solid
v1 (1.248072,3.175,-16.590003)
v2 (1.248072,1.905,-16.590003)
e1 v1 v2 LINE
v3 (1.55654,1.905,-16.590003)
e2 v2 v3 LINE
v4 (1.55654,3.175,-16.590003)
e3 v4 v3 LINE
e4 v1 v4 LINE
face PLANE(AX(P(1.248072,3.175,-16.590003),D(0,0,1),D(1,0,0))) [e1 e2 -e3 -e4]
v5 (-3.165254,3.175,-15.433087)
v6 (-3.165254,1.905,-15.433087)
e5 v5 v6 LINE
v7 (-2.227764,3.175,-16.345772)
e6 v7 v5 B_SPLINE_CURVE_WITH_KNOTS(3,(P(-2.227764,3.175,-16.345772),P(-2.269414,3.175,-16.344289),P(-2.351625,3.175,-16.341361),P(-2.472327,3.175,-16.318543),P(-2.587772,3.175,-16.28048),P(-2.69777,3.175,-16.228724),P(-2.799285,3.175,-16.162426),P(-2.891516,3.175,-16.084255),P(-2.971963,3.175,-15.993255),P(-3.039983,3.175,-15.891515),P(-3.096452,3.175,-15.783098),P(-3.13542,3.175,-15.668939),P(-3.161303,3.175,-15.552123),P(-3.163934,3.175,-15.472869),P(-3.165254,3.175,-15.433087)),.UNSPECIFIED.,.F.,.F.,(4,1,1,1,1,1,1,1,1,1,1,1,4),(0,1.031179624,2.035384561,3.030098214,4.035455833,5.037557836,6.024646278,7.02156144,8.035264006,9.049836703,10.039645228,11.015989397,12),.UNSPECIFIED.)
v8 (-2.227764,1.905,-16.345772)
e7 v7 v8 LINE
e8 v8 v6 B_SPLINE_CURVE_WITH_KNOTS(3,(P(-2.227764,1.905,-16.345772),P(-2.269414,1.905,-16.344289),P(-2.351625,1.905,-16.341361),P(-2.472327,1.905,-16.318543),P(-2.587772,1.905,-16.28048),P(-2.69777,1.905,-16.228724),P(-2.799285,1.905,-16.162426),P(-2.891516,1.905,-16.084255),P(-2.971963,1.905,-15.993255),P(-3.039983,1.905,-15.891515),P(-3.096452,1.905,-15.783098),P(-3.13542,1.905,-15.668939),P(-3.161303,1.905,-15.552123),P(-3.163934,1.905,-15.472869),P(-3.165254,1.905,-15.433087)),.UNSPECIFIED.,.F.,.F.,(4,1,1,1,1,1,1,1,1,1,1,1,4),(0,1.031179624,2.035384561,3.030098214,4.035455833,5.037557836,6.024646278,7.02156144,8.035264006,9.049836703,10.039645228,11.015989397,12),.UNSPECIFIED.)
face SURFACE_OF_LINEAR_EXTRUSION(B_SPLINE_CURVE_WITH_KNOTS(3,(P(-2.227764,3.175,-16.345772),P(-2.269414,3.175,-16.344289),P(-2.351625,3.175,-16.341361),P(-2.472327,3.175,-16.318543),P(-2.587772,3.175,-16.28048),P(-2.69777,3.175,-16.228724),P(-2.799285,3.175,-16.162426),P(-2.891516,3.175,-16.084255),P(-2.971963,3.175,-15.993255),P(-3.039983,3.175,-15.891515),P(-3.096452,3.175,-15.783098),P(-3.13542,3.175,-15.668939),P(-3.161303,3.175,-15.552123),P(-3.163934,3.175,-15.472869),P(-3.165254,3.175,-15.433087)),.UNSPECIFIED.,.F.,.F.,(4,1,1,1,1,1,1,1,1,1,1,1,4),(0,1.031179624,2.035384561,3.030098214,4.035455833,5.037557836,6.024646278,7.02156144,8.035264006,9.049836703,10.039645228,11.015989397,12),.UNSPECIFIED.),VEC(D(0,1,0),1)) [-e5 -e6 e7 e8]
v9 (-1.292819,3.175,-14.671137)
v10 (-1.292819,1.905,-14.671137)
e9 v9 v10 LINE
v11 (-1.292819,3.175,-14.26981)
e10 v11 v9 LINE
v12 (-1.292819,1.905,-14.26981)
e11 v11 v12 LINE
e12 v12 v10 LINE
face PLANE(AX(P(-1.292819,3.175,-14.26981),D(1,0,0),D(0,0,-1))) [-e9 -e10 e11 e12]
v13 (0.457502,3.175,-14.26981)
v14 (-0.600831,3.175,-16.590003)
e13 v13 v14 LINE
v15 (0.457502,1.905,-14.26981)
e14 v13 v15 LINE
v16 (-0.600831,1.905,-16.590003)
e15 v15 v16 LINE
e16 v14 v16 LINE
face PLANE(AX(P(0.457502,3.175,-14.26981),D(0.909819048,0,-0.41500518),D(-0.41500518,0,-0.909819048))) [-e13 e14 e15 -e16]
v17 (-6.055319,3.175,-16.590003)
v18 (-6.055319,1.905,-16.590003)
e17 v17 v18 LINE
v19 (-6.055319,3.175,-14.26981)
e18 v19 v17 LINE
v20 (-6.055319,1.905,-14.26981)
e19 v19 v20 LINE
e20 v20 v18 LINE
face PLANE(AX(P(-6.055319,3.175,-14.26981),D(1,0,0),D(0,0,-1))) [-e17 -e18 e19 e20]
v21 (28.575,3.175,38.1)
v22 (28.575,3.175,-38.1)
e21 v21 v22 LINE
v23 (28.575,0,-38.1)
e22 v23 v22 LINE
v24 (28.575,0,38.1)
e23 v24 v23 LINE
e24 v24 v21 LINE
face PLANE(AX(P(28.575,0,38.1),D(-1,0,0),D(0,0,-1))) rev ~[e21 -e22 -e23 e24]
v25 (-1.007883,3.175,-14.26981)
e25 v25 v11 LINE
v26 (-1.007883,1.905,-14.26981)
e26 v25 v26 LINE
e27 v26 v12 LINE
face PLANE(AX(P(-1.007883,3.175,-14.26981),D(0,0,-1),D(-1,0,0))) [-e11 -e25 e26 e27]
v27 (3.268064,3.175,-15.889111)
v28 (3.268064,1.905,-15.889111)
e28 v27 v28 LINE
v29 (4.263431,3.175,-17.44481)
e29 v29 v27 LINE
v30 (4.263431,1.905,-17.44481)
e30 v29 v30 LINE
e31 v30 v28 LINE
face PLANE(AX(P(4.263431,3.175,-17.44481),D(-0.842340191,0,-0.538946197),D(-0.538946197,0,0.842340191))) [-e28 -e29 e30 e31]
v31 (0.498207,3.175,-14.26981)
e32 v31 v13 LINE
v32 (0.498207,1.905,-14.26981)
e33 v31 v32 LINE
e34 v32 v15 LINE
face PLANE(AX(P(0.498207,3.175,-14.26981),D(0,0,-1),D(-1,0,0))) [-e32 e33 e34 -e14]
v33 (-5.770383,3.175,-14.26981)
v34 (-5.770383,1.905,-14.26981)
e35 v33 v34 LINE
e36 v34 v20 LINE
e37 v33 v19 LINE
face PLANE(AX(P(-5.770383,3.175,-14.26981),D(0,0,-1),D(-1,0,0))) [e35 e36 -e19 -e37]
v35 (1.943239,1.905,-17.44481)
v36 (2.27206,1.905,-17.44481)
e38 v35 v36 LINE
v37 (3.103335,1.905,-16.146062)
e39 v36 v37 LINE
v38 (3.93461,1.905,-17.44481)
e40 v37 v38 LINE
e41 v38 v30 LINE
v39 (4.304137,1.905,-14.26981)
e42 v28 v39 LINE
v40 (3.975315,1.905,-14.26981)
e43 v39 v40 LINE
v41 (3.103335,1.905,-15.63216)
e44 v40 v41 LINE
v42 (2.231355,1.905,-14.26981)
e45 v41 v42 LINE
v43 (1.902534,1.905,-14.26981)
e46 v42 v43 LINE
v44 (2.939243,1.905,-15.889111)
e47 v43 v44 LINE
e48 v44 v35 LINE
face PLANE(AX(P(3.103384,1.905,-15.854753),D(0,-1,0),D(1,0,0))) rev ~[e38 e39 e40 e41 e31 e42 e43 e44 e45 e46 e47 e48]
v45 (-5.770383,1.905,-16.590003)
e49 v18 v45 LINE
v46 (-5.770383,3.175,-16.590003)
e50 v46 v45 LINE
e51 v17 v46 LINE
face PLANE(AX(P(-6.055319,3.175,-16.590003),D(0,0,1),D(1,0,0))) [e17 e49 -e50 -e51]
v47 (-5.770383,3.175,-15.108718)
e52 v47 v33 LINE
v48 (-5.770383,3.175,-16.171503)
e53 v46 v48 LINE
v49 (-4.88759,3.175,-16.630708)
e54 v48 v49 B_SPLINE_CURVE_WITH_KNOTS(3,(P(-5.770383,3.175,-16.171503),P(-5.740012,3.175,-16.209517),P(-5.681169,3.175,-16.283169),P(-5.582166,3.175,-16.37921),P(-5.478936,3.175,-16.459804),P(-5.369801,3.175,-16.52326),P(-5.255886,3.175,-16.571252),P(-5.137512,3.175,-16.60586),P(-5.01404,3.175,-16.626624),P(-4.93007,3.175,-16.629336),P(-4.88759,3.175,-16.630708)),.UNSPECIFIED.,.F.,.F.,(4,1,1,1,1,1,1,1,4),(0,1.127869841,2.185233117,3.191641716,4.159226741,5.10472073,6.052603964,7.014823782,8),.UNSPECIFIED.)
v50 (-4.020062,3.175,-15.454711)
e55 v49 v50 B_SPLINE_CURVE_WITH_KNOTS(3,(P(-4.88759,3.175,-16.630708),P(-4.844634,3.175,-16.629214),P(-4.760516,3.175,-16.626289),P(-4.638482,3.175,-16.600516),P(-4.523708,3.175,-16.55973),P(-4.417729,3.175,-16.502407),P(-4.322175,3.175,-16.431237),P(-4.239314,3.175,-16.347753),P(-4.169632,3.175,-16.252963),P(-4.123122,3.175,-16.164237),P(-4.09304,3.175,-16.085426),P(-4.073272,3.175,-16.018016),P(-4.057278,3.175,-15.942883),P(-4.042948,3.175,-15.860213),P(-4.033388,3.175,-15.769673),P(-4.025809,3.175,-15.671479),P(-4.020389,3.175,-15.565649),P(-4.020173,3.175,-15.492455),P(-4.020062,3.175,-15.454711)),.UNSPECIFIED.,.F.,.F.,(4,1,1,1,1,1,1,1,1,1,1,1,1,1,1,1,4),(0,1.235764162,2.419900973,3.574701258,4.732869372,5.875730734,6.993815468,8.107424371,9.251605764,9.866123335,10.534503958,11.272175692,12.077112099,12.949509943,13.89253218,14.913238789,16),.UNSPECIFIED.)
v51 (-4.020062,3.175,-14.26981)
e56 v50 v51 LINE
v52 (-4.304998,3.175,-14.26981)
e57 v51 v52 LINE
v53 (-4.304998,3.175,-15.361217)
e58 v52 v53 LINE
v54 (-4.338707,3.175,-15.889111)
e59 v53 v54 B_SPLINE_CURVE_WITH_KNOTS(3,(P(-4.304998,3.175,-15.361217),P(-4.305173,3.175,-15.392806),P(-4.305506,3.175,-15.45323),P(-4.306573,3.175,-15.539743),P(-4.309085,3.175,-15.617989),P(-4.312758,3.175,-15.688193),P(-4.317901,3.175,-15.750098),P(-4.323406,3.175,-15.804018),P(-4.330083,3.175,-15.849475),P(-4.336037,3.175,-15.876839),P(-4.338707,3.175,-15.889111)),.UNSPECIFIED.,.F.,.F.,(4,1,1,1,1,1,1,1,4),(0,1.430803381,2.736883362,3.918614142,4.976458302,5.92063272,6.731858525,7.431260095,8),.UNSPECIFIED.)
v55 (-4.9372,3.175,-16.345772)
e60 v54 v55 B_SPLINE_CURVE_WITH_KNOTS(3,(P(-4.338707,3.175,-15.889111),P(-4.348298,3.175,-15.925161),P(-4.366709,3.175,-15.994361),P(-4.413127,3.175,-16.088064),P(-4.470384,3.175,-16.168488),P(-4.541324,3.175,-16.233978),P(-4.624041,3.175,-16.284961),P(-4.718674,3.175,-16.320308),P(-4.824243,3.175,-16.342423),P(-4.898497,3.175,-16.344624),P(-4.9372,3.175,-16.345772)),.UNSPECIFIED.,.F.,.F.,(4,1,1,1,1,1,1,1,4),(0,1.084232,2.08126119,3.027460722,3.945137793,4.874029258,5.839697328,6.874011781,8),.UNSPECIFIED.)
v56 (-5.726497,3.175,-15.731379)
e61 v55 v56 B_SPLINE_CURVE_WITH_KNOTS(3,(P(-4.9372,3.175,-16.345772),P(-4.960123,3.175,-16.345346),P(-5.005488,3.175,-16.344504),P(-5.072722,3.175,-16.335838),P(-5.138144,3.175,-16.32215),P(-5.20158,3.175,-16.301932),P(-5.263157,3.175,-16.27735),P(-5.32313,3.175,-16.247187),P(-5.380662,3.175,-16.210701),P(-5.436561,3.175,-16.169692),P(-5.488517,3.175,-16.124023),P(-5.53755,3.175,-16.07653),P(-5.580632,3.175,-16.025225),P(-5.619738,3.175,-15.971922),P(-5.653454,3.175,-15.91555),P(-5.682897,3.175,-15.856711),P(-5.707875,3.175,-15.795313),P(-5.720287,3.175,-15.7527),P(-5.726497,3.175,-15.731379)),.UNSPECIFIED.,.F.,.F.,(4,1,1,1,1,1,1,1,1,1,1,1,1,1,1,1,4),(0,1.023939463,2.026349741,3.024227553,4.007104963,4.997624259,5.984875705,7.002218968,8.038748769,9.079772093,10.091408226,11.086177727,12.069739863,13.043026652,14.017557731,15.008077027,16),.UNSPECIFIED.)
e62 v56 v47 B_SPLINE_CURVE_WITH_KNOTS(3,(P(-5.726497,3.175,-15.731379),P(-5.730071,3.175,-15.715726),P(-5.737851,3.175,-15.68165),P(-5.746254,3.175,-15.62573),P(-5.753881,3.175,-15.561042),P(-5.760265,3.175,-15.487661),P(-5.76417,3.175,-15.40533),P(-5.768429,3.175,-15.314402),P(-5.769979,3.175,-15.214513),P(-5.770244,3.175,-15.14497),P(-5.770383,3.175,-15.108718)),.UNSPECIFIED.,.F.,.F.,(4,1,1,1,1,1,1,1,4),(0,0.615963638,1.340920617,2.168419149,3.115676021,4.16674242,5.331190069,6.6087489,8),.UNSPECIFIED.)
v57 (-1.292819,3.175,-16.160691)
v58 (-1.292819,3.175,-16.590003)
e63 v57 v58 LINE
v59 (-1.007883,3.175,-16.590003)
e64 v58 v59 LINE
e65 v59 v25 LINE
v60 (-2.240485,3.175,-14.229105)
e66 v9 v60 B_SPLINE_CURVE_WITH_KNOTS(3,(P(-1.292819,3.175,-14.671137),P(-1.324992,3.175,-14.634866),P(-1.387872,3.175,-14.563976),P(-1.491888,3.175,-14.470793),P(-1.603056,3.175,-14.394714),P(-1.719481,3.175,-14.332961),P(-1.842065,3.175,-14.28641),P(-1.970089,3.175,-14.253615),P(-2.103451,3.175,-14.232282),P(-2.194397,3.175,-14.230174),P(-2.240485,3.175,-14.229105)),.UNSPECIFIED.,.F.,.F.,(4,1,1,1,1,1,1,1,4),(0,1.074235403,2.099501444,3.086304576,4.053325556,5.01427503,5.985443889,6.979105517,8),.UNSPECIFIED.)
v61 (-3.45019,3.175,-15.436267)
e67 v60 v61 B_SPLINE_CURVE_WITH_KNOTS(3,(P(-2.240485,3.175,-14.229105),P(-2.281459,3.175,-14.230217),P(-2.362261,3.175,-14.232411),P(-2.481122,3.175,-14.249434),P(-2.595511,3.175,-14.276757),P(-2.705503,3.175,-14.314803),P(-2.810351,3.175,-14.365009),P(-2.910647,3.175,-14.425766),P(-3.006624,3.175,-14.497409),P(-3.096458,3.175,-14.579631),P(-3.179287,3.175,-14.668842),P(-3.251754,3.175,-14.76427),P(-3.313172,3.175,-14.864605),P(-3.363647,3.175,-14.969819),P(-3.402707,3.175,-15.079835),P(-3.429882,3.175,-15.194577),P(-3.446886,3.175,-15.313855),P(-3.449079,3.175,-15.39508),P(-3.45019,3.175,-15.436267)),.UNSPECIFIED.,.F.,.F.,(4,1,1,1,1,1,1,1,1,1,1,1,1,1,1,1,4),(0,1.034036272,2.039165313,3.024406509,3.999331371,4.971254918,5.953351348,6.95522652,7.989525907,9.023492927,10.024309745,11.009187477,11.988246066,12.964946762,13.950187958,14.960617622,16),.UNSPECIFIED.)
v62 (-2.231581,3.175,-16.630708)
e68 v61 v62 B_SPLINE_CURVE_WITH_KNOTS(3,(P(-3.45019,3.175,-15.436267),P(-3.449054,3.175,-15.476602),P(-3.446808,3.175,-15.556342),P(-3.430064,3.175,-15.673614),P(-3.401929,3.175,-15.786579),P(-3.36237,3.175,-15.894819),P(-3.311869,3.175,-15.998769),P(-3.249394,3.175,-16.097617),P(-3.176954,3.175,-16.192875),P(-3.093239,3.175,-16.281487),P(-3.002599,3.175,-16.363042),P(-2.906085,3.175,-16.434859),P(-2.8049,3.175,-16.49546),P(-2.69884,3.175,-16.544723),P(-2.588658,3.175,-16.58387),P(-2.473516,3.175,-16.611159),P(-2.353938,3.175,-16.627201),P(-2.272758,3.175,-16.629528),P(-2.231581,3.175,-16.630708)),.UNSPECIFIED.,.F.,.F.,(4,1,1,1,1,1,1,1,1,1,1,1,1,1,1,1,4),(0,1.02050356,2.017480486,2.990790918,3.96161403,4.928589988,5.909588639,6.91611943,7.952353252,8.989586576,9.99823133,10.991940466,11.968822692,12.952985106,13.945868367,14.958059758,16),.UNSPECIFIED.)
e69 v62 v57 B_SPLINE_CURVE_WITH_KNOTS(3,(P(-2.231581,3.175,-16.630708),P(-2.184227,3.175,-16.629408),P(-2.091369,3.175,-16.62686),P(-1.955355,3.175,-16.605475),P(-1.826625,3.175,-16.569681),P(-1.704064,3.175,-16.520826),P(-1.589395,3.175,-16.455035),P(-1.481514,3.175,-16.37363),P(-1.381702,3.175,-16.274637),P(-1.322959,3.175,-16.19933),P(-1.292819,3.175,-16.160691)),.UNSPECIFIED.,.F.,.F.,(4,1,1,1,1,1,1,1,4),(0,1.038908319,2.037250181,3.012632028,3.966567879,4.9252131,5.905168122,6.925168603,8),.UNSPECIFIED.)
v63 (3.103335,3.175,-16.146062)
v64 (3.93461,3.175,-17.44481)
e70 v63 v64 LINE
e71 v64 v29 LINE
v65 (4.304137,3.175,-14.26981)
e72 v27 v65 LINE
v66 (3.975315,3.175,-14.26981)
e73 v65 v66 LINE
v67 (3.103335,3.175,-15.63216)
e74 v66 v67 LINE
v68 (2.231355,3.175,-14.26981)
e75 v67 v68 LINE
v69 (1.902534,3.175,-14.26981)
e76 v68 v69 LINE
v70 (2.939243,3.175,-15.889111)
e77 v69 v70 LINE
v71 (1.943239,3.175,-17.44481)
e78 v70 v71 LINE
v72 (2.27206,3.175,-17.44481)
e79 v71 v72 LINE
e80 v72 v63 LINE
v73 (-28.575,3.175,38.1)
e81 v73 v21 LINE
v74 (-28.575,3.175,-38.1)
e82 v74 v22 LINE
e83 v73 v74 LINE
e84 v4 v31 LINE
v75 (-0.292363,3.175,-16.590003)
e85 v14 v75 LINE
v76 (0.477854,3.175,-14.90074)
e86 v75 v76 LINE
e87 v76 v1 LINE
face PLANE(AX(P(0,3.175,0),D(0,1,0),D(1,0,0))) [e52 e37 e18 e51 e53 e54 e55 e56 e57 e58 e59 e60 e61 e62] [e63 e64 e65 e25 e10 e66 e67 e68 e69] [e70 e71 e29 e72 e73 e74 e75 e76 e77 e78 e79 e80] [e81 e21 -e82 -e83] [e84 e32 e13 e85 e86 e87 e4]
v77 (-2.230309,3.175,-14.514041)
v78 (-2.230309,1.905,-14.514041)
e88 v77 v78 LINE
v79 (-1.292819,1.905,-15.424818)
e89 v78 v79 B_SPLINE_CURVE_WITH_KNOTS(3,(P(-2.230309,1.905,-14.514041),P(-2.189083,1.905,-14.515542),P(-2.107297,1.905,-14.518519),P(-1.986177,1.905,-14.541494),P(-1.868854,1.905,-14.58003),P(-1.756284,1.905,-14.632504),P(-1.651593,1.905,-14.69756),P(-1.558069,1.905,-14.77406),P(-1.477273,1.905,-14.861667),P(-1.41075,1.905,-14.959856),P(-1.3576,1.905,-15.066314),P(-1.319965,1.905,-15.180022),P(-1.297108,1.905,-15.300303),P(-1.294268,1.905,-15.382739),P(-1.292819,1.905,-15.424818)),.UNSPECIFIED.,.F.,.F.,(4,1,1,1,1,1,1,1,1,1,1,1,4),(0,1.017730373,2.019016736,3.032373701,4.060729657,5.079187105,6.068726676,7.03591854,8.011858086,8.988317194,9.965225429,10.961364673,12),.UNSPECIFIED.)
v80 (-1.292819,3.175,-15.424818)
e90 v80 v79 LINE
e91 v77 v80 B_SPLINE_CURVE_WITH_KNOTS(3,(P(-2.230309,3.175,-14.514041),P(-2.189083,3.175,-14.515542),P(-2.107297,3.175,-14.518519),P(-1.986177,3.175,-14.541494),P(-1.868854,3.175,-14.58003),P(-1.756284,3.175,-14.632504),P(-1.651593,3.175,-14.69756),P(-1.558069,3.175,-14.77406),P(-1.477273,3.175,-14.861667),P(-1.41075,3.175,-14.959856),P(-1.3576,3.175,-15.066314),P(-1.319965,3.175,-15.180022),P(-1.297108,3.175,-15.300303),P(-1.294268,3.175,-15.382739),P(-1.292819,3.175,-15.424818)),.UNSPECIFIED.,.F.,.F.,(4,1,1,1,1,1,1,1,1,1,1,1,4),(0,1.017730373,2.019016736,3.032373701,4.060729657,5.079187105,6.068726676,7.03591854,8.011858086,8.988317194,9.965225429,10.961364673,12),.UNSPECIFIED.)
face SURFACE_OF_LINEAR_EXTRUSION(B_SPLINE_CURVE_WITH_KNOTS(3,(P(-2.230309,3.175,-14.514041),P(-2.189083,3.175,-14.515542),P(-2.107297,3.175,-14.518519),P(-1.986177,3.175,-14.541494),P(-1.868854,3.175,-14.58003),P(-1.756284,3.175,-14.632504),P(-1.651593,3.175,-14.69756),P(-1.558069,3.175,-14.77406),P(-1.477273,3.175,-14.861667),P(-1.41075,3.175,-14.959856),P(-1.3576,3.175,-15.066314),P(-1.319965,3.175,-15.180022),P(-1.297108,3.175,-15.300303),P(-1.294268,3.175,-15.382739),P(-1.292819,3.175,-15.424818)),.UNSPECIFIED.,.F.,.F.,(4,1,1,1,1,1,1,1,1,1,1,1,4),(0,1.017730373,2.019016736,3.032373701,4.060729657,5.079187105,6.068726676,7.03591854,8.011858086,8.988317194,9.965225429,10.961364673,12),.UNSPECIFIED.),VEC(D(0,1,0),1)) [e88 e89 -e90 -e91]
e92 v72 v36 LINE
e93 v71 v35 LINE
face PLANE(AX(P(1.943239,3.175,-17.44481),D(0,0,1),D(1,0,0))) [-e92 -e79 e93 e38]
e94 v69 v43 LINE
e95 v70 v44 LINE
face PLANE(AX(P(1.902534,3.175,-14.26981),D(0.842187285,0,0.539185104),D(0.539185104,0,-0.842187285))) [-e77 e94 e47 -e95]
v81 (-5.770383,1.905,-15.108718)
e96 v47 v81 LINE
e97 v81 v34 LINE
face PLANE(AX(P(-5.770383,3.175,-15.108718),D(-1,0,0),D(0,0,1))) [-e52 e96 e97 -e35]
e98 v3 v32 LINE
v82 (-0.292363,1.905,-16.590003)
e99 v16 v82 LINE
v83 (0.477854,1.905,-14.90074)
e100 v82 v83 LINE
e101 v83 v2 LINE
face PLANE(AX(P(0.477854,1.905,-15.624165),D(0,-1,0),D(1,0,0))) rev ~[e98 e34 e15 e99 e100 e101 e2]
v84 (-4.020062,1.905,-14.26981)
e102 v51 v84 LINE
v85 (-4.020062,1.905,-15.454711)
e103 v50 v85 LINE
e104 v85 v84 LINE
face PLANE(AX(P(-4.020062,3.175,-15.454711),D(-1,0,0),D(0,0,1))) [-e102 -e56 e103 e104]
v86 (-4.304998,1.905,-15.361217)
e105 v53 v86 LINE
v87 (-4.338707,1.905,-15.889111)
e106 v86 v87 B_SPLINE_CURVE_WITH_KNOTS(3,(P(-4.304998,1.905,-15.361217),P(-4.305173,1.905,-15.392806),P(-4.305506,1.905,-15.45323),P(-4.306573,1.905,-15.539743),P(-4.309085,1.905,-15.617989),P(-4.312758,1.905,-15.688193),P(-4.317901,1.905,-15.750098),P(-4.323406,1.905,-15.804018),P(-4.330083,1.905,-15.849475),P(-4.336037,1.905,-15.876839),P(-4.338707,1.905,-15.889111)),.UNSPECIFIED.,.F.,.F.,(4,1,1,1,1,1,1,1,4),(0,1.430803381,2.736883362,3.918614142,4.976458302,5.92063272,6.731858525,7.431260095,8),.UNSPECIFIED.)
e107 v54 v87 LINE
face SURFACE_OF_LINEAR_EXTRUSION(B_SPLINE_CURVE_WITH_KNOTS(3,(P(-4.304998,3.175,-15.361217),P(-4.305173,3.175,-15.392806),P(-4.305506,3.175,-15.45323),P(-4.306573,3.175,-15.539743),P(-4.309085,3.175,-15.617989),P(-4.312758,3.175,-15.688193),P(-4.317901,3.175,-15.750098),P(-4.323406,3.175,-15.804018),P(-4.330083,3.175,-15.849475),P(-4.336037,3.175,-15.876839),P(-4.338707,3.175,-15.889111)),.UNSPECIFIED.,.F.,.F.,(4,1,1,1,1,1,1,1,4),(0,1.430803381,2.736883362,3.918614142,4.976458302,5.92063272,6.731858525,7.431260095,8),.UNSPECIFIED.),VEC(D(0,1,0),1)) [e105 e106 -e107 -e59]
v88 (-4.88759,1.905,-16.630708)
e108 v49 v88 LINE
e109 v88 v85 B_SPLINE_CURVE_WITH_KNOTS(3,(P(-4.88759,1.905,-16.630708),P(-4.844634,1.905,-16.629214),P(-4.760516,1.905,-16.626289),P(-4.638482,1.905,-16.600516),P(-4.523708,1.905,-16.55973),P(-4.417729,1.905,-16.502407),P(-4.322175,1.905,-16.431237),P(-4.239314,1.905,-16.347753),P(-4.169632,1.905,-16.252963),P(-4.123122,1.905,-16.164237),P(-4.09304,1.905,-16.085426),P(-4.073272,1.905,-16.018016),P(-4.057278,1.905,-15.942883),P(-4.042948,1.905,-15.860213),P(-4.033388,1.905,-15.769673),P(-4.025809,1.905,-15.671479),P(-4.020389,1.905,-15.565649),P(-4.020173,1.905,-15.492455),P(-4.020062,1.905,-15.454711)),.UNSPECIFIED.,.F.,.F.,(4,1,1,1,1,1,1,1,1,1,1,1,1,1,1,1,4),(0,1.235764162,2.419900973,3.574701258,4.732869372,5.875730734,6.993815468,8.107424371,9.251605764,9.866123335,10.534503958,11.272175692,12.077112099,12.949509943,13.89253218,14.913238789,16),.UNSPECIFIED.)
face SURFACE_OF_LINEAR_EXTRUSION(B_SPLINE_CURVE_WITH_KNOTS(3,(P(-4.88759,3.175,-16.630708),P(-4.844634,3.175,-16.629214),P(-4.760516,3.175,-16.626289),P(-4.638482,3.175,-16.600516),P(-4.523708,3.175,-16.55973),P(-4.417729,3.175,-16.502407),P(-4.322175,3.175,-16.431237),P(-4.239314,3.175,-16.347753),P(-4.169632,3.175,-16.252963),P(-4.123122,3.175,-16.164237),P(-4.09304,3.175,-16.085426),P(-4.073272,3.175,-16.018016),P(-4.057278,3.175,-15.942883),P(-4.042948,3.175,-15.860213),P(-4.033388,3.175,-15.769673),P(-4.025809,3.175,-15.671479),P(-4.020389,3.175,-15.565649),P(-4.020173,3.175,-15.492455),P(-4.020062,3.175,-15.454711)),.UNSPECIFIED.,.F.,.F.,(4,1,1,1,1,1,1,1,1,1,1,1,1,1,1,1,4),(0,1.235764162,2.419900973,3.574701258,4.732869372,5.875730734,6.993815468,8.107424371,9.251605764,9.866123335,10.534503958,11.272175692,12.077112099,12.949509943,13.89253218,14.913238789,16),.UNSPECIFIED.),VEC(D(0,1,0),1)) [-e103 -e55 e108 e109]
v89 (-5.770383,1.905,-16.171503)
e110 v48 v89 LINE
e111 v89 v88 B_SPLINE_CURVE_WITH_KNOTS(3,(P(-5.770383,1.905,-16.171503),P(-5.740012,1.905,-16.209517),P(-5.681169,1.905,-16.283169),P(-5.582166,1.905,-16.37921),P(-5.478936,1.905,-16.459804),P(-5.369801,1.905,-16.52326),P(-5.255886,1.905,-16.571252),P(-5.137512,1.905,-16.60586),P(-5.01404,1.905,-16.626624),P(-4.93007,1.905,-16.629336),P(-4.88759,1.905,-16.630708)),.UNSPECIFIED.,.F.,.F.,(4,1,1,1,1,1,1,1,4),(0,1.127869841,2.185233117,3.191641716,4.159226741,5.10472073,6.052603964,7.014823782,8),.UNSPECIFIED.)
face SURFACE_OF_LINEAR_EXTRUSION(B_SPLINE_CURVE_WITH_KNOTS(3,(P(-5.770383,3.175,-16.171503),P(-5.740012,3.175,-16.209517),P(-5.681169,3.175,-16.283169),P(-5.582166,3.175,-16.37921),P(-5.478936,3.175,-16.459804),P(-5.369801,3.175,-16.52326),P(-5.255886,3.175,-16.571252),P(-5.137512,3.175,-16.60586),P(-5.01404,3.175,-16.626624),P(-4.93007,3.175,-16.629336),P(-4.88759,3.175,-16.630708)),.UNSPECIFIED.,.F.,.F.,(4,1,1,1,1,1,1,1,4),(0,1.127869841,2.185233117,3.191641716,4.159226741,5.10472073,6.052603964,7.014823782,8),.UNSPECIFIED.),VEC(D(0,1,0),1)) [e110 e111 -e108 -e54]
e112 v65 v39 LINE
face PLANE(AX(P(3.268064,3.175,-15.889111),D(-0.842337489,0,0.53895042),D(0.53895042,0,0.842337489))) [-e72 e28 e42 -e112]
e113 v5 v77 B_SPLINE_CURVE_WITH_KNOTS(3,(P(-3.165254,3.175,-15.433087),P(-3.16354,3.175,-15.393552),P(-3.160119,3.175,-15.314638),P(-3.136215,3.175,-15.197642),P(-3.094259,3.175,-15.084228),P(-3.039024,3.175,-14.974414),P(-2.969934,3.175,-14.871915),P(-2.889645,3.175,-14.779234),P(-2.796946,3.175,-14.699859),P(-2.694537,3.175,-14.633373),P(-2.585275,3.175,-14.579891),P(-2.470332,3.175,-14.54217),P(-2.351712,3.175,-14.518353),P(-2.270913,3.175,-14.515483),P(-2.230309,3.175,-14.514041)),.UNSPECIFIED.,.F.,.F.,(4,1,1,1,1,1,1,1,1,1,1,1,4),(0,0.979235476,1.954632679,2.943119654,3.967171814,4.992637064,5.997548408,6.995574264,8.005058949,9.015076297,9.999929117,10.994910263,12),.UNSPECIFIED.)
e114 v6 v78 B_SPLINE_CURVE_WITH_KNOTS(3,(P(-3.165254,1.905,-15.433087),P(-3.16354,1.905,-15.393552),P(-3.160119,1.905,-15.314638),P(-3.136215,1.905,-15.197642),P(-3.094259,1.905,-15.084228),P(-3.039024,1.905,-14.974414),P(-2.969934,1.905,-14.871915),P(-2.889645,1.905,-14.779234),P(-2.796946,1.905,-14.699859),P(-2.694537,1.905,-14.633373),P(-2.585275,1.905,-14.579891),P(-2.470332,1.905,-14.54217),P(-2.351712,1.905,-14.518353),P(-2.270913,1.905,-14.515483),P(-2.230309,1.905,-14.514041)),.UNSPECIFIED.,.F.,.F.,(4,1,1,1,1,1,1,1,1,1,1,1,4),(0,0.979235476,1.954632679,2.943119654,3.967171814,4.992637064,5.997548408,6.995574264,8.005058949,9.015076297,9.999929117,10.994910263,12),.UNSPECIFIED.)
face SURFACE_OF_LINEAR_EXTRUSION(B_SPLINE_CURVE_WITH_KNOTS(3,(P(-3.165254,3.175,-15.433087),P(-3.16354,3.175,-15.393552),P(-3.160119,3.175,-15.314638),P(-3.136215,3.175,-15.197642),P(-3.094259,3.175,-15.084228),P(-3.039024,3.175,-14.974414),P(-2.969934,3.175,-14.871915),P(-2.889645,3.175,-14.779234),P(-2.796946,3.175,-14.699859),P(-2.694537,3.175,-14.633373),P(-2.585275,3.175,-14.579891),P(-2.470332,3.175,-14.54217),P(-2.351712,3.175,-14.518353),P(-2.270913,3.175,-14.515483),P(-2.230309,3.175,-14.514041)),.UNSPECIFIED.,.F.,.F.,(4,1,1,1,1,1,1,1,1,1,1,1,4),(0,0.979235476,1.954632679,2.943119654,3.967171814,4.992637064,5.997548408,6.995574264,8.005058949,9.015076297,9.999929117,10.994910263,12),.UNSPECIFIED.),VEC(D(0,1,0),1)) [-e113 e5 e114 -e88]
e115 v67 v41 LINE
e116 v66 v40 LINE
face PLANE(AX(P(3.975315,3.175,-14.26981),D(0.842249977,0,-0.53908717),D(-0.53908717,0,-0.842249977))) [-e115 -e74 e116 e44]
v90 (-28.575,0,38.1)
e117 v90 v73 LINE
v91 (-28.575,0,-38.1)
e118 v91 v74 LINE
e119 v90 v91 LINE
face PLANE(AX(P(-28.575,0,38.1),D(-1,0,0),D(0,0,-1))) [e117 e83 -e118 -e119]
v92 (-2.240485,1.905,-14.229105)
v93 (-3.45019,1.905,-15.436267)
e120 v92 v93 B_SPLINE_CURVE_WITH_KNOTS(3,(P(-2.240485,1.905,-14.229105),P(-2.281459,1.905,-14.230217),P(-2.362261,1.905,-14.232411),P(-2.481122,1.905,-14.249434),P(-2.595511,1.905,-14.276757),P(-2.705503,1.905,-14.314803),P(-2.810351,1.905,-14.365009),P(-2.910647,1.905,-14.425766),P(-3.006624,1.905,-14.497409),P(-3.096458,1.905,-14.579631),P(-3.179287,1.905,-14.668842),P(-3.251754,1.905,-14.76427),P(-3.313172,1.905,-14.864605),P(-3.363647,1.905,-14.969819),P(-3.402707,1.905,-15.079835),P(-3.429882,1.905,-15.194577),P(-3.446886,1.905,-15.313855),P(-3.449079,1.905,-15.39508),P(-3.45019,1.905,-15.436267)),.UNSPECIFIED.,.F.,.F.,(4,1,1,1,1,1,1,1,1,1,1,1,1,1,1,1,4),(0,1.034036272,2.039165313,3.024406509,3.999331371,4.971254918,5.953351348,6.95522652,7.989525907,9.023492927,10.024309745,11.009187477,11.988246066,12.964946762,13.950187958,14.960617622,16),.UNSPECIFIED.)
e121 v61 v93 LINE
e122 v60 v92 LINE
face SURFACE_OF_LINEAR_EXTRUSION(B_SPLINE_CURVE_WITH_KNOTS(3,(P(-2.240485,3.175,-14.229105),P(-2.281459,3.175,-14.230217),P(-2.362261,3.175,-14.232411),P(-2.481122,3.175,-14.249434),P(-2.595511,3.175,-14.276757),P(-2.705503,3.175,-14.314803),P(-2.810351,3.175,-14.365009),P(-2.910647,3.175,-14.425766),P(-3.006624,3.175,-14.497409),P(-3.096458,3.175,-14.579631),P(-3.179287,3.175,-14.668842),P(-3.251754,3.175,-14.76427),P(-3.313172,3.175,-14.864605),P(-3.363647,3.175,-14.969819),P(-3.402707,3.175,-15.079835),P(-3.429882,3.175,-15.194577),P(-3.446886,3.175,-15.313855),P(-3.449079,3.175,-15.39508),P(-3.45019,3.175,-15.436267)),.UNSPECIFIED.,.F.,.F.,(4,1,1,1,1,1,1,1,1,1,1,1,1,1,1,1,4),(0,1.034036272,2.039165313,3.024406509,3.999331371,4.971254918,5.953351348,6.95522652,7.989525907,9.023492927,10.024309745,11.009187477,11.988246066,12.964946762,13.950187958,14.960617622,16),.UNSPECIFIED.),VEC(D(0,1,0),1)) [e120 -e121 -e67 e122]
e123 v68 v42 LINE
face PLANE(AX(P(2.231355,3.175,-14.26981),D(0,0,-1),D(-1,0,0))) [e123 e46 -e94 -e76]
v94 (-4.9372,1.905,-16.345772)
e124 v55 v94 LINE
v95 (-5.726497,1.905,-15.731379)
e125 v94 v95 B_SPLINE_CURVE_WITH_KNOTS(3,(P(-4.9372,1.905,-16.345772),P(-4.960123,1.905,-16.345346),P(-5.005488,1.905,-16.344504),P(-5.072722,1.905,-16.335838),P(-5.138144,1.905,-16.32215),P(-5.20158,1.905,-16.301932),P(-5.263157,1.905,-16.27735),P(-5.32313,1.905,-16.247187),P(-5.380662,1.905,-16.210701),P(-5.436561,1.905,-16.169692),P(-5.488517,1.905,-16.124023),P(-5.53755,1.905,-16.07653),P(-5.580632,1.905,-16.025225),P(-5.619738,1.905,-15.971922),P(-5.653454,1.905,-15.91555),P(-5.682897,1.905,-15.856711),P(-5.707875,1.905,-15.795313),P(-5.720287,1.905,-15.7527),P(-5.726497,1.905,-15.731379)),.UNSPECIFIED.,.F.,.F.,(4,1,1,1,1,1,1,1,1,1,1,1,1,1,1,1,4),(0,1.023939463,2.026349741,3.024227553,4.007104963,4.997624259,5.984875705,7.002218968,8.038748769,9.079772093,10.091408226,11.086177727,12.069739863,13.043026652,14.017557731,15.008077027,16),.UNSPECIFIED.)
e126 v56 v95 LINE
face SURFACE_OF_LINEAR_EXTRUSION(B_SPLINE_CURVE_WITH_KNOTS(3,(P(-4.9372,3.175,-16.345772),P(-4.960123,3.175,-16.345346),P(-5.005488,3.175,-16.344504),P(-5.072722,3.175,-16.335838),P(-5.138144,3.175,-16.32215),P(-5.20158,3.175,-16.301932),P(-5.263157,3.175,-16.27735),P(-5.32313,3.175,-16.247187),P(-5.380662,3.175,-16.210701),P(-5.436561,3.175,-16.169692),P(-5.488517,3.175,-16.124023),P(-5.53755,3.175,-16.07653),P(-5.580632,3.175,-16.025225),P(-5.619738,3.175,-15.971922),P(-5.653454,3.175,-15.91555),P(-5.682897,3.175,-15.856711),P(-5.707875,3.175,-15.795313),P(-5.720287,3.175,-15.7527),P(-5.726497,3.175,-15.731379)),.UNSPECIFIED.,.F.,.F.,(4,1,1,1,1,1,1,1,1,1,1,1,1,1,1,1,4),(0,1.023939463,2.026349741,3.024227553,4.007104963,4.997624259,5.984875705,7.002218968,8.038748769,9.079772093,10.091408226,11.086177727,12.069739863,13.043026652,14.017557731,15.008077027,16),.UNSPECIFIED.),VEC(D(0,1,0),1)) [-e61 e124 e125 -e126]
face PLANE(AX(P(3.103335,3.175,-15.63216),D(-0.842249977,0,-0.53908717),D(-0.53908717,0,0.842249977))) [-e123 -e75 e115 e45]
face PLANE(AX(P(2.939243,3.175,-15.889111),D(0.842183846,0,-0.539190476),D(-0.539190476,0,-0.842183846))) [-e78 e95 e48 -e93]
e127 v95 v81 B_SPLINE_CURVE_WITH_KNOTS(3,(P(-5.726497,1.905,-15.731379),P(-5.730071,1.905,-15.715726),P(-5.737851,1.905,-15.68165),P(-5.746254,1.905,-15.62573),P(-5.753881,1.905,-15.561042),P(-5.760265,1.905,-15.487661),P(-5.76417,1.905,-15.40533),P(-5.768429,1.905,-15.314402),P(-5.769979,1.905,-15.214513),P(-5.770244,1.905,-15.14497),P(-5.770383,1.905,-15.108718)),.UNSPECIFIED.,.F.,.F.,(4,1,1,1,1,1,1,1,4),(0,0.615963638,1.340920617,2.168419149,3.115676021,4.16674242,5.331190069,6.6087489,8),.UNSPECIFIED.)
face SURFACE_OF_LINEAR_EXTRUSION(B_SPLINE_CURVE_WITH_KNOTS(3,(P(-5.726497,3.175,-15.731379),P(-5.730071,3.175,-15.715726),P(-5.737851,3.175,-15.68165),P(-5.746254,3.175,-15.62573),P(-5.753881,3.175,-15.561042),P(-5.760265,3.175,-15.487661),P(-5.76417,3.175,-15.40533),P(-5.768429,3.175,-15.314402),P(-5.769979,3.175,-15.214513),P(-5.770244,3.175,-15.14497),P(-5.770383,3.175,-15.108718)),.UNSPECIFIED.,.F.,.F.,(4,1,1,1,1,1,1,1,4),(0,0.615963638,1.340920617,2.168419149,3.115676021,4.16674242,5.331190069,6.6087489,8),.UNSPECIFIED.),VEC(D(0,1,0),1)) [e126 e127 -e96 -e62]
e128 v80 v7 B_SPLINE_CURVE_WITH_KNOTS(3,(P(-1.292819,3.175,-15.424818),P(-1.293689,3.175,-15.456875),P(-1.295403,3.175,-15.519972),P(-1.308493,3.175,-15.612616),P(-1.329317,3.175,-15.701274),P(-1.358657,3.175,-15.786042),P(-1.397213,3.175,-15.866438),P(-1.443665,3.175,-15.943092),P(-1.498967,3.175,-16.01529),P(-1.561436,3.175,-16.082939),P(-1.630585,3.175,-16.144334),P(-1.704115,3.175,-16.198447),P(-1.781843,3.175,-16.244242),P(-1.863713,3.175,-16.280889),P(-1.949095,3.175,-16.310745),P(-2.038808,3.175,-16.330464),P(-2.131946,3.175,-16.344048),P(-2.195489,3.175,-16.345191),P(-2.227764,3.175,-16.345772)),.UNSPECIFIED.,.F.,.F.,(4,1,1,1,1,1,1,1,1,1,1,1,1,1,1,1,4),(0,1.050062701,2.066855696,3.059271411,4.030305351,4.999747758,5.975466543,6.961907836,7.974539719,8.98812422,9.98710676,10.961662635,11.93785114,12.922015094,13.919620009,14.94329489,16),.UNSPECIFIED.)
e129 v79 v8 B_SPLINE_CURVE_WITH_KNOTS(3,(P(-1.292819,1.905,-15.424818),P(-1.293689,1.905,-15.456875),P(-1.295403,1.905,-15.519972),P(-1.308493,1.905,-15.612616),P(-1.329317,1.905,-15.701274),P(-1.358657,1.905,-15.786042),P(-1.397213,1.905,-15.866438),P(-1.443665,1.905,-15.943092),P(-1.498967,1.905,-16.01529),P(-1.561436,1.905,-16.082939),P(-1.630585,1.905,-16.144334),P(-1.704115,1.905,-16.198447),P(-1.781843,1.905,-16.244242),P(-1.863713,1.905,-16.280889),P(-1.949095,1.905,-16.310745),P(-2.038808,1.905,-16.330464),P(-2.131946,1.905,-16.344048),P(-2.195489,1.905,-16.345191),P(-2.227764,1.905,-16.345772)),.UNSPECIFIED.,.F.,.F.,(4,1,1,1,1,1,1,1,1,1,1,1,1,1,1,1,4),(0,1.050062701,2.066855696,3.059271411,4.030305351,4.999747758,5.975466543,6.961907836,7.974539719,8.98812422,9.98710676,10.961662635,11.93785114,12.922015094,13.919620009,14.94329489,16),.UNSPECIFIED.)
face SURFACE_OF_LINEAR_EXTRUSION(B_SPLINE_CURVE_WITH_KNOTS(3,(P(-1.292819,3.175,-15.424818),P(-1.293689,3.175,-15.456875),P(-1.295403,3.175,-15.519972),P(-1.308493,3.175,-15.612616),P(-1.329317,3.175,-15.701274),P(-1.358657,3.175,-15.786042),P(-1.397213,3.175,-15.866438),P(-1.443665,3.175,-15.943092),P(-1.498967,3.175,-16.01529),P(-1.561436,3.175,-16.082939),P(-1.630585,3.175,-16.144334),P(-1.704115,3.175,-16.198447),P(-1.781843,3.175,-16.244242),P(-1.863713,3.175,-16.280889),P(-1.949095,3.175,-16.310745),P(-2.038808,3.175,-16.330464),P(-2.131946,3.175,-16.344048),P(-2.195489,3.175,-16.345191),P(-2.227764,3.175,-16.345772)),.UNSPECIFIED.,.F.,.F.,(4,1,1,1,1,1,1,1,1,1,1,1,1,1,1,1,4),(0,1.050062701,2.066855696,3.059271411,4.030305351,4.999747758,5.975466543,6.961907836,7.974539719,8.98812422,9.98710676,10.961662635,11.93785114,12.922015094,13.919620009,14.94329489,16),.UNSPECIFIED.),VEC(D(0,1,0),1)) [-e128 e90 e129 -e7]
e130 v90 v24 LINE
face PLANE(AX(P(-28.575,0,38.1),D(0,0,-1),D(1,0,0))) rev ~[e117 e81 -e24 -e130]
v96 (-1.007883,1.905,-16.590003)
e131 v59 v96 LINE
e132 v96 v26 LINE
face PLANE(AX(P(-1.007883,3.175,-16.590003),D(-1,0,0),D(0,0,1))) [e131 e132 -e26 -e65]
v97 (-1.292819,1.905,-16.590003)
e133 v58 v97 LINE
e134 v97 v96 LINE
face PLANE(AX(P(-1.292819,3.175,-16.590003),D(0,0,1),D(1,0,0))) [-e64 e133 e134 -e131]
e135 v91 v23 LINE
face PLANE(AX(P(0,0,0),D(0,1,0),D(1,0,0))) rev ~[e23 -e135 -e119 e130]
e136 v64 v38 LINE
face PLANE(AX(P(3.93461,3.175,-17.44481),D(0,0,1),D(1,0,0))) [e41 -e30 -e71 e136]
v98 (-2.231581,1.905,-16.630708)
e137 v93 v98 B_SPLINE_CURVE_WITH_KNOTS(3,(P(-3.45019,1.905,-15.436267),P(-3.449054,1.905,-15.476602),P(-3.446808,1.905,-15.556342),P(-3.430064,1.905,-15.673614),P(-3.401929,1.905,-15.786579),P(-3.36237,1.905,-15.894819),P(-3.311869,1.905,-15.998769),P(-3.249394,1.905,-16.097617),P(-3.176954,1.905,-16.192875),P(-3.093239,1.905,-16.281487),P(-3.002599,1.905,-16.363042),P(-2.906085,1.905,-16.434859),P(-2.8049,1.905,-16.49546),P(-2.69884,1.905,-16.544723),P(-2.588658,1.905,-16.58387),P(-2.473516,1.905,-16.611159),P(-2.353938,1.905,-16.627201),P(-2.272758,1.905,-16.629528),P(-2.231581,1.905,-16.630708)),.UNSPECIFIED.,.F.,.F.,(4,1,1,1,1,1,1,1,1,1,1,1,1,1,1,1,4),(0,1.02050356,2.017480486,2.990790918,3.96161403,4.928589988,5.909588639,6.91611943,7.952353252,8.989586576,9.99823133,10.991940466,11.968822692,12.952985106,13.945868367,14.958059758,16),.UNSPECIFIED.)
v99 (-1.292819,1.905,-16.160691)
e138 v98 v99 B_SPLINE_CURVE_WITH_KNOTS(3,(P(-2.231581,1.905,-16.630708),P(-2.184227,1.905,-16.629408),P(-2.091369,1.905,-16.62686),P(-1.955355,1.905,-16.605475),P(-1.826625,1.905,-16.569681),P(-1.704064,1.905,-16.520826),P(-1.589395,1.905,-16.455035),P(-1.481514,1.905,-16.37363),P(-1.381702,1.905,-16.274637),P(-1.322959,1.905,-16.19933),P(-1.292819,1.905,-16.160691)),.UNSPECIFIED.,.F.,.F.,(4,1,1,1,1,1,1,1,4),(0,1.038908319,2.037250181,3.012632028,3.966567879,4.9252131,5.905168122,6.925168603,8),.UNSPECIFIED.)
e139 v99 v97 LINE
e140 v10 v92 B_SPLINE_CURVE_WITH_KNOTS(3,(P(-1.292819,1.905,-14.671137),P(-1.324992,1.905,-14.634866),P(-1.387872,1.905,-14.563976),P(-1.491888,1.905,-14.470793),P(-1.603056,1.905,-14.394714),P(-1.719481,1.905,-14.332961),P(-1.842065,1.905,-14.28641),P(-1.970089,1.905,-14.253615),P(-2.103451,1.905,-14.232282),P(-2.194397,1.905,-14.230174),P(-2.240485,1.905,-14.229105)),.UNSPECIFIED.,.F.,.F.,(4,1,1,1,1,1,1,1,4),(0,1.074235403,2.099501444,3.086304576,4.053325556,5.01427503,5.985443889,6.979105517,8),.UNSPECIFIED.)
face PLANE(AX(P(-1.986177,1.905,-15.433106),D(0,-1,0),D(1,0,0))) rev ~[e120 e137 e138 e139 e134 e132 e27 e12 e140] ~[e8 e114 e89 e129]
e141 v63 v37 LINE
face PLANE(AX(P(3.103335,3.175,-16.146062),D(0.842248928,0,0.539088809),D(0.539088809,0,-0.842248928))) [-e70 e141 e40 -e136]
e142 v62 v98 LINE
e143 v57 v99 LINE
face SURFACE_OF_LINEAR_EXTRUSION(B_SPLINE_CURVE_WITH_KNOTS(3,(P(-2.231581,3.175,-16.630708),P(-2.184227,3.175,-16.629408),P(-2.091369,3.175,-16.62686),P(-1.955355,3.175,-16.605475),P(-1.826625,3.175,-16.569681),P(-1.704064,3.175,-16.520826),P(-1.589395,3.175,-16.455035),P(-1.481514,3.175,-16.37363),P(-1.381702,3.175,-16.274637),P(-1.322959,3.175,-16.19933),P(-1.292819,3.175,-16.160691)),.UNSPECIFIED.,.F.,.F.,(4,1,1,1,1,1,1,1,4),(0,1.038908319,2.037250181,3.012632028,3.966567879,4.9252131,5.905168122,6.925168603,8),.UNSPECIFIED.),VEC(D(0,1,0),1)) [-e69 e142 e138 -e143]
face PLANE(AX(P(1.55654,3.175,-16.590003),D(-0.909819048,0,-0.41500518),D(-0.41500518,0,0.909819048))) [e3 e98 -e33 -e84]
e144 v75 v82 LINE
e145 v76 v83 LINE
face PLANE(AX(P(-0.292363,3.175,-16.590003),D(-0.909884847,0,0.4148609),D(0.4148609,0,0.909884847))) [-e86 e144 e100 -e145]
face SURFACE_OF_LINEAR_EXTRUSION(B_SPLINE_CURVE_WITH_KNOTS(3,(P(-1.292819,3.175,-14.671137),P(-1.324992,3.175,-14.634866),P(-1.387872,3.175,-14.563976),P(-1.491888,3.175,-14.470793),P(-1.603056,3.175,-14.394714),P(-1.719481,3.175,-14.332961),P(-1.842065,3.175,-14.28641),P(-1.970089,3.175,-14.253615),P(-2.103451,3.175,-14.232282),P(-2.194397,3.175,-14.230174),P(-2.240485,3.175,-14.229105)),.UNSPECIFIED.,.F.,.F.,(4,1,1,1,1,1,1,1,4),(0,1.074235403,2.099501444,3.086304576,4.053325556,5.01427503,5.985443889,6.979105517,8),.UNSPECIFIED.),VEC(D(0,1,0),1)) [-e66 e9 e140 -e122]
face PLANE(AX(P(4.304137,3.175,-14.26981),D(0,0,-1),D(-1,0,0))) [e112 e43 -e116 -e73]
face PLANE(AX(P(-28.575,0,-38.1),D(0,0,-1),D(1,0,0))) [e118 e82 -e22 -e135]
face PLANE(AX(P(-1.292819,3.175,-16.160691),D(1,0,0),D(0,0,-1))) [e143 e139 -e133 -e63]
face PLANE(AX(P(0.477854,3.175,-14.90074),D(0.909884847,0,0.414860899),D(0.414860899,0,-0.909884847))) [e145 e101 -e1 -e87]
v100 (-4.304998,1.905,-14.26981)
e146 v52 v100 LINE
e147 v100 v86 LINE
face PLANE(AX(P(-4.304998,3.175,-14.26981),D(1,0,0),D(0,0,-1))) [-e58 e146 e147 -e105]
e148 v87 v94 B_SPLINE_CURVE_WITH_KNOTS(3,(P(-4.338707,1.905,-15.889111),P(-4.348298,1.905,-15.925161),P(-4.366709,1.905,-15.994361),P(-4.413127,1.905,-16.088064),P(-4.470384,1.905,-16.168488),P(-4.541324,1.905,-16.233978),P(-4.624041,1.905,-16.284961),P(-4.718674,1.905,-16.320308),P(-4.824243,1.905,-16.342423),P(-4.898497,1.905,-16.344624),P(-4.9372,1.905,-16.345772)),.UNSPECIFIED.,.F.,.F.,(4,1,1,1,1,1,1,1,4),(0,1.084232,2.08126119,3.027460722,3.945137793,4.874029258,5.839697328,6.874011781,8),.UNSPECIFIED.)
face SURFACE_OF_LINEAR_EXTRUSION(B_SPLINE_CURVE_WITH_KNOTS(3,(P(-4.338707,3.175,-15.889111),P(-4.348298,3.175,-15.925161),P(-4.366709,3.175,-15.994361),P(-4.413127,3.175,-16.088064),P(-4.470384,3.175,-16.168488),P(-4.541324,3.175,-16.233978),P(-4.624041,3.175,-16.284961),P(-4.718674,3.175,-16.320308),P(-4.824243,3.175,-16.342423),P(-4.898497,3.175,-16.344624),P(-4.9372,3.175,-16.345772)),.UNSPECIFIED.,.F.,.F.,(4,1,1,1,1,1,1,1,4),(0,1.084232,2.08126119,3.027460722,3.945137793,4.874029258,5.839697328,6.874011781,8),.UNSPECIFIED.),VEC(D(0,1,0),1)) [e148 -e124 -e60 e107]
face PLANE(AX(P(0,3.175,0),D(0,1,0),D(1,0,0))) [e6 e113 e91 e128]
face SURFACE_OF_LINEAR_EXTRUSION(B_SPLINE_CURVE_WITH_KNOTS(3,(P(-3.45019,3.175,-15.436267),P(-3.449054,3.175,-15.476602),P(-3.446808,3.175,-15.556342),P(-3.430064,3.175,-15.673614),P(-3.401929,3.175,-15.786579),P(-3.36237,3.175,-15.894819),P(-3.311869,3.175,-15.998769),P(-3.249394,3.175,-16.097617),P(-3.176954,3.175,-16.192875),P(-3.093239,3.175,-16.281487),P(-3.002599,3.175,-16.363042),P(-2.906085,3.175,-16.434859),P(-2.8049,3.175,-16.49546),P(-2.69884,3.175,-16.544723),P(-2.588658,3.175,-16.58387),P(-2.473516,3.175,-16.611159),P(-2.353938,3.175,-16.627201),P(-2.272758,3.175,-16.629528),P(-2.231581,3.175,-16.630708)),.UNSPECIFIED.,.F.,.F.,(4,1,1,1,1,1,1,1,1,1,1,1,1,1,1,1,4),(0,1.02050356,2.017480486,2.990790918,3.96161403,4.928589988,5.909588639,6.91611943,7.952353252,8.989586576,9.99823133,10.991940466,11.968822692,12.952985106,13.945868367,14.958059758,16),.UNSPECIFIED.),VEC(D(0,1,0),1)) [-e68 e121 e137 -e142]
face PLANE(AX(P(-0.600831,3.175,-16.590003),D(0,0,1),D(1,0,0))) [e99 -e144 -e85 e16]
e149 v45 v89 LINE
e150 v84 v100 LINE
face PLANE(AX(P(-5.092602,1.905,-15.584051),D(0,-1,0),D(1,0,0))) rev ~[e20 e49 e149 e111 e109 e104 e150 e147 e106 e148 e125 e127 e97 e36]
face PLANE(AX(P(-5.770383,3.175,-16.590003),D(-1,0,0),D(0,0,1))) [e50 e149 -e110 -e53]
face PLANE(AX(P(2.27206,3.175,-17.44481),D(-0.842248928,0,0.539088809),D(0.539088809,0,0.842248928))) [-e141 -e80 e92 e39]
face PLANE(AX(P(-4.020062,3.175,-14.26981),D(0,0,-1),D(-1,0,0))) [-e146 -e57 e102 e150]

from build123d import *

# Parameters (mm, degrees)
SKETCH1_W           = 57.15
SKETCH1_H           = 76.2
BOSS_EXTRUDE1_DEPTH = 3.175
CUT_EXTRUDE1_DEPTH  = 1.27


with BuildPart() as part:
    # Sketch1 → Boss-Extrude1 (new body)
    with BuildSketch(Plane(origin=(0, 0, 0), x_dir=(1, 0, 0), z_dir=(0, 1, 0))):
        Rectangle(SKETCH1_W, SKETCH1_H)
    extrude(amount=BOSS_EXTRUDE1_DEPTH)

    # Sketch2 → Cut-Extrude1 (cut)
    # profile 1 of 4: a face of its own
    with BuildSketch(Plane(origin=(0, 3.175, 0), x_dir=(-1, 0, 0), z_dir=(0, 1, 0))):
        with BuildLine():
            Line((6.055318585, -16.590002596), (5.770382688, -16.590002596))
            Line((5.770382688, -16.590002596), (5.770382688, -16.171502996))
            add(Edge.make_bspline(
                [(5.770382688, -16.171502996), (5.740011779, -16.209517079), (5.68116854, -16.283168869), (5.58216602, -16.379210072), (5.478935847, -16.459804005), (5.3698014, -16.523260139), (5.255885696, -16.571252171), (5.137511969, -16.605860082), (5.01403952, -16.626623661), (4.930069938, -16.629335713), (4.88759022, -16.630707724)],
                knots=[0, 0, 0, 0, 1.127869841, 2.185233117, 3.191641716, 4.159226741, 5.10472073, 6.052603964, 7.014823782, 8, 8, 8, 8], degree=3))
            add(Edge.make_bspline(
                [(4.88759022, -16.630707724), (4.844634079, -16.629214017), (4.760516404, -16.626289008), (4.638482352, -16.600515848), (4.523708355, -16.559729658), (4.417729129, -16.502406678), (4.322175382, -16.431236503), (4.239313996, -16.347753357), (4.169631782, -16.252962996), (4.123122139, -16.164236993), (4.093040195, -16.085425579), (4.073271524, -16.0180161), (4.057278247, -15.942883297), (4.04294765, -15.86021293), (4.033387568, -15.769672957), (4.025809426, -15.671479471), (4.020388991, -15.565649476), (4.020173366, -15.492455289), (4.020062175, -15.454711129)],
                knots=[0, 0, 0, 0, 1.235764162, 2.419900973, 3.574701258, 4.732869372, 5.875730734, 6.993815468, 8.107424371, 9.251605764, 9.866123335, 10.534503958, 11.272175692, 12.077112099, 12.949509943, 13.89253218, 14.913238789, 16, 16, 16, 16], degree=3))
            Line((4.020062175, -15.454711129), (4.020062175, -14.269810288))
            Line((4.020062175, -14.269810288), (4.304998072, -14.269810288))
            Line((4.304998072, -14.269810288), (4.304998072, -15.361216538))
            add(Edge.make_bspline(
                [(4.304998072, -15.361216538), (4.305172614, -15.392805516), (4.305506484, -15.453229854), (4.306573304, -15.539742593), (4.30908455, -15.617988608), (4.312758395, -15.688192769), (4.31790085, -15.750098127), (4.323405942, -15.804018032), (4.330082808, -15.849474875), (4.33603676, -15.876838879), (4.338707007, -15.889111169)],
                knots=[0, 0, 0, 0, 1.430803381, 2.736883362, 3.918614142, 4.976458302, 5.92063272, 6.731858525, 7.431260095, 8, 8, 8, 8], degree=3))
            add(Edge.make_bspline(
                [(4.338707007, -15.889111169), (4.348298036, -15.925160767), (4.366708706, -15.994360559), (4.413127221, -16.088064198), (4.470383963, -16.168488135), (4.541323753, -16.233978346), (4.624041324, -16.28496079), (4.718674187, -16.320307963), (4.824242938, -16.342422975), (4.898497037, -16.344624403), (4.937199595, -16.345771826)],
                knots=[0, 0, 0, 0, 1.084232, 2.08126119, 3.027460722, 3.945137793, 4.874029258, 5.839697328, 6.874011781, 8, 8, 8, 8], degree=3))
            add(Edge.make_bspline(
                [(4.937199595, -16.345771826), (4.960123112, -16.345346396), (5.005488159, -16.344504481), (5.072721891, -16.335837862), (5.13814421, -16.32215003), (5.201579846, -16.301932164), (5.263156997, -16.277350064), (5.323130484, -16.247186672), (5.380662305, -16.210701491), (5.436561438, -16.1696921), (5.488517318, -16.124022995), (5.537550393, -16.076530302), (5.580632017, -16.025225386), (5.619738091, -15.971922216), (5.653454407, -15.915550043), (5.682896587, -15.856711455), (5.707874702, -15.79531338), (5.720286952, -15.752700383), (5.726497471, -15.731378798)],
                knots=[0, 0, 0, 0, 1.023939463, 2.026349741, 3.024227553, 4.007104963, 4.997624259, 5.984875705, 7.002218968, 8.038748769, 9.079772093, 10.091408226, 11.086177727, 12.069739863, 13.043026652, 14.017557731, 15.008077027, 16, 16, 16, 16], degree=3))
            add(Edge.make_bspline(
                [(5.726497471, -15.731378798), (5.730071296, -15.715725863), (5.737851324, -15.681650245), (5.746254351, -15.62572995), (5.753881223, -15.561041615), (5.76026475, -15.487660728), (5.764170378, -15.40533037), (5.768428866, -15.314402145), (5.769979229, -15.214513481), (5.770244435, -15.144970374), (5.770382688, -15.10871754)],
                knots=[0, 0, 0, 0, 0.615963638, 1.340920617, 2.168419149, 3.115676021, 4.16674242, 5.331190069, 6.6087489, 8, 8, 8, 8], degree=3))
            Line((5.770382688, -15.10871754), (5.770382688, -14.269810288))
            Line((5.770382688, -14.269810288), (6.055318585, -14.269810288))
            Line((6.055318585, -14.269810288), (6.055318585, -16.590002596))
        make_face()
    # profile 2 of 4: a face of its own
    with BuildSketch(Plane(origin=(0, 3.175, 0), x_dir=(-1, 0, 0), z_dir=(0, 1, 0))):
        with BuildLine():
            Line((1.007882688, -16.590002596), (1.007882688, -14.269810288))
            Line((1.007882688, -14.269810288), (1.292818585, -14.269810288))
            Line((1.292818585, -14.269810288), (1.292818585, -14.671137411))
            add(Edge.make_bspline(
                [(1.292818585, -14.671137411), (1.324992017, -14.63486586), (1.387872244, -14.563976207), (1.491888052, -14.470793448), (1.603055633, -14.394714311), (1.719481041, -14.332960727), (1.842065446, -14.286409707), (1.970088917, -14.25361509), (2.103451285, -14.232281726), (2.194397192, -14.230173515), (2.240484851, -14.22910516)],
                knots=[0, 0, 0, 0, 1.074235403, 2.099501444, 3.086304576, 4.053325556, 5.01427503, 5.985443889, 6.979105517, 8, 8, 8, 8], degree=3))
            add(Edge.make_bspline(
                [(2.240484851, -14.22910516), (2.281458749, -14.23021747), (2.362261091, -14.232410995), (2.481121581, -14.249433739), (2.595511176, -14.276756716), (2.705502779, -14.314802885), (2.810351107, -14.365009415), (2.910646951, -14.425766251), (3.006624386, -14.497409293), (3.09645812, -14.579631484), (3.179287048, -14.668842021), (3.251753995, -14.76427022), (3.313172092, -14.864605375), (3.363646768, -14.969819287), (3.402706719, -15.079835045), (3.429881876, -15.194577175), (3.446886276, -15.313854753), (3.44907869, -15.395080238), (3.45019038, -15.436266618)],
                knots=[0, 0, 0, 0, 1.034036272, 2.039165313, 3.024406509, 3.999331371, 4.971254918, 5.953351348, 6.95522652, 7.989525907, 9.023492927, 10.024309745, 11.009187477, 11.988246066, 12.964946762, 13.950187958, 14.960617622, 16, 16, 16, 16], degree=3))
            add(Edge.make_bspline(
                [(3.45019038, -15.436266618), (3.449054033, -15.476601721), (3.446807536, -15.556342044), (3.430063828, -15.673613807), (3.401929041, -15.78657883), (3.362370202, -15.894818649), (3.311868686, -15.998769181), (3.249394337, -16.097617116), (3.176953503, -16.192874548), (3.093239343, -16.281486741), (3.002599318, -16.363041853), (2.9060849, -16.434859002), (2.804899525, -16.495460062), (2.698840305, -16.544722833), (2.58865823, -16.583870029), (2.473516308, -16.611159395), (2.353938157, -16.627201173), (2.272758349, -16.629527643), (2.231580605, -16.630707724)],
                knots=[0, 0, 0, 0, 1.02050356, 2.017480486, 2.990790918, 3.96161403, 4.928589988, 5.909588639, 6.91611943, 7.952353252, 8.989586576, 9.99823133, 10.991940466, 11.968822692, 12.952985106, 13.945868367, 14.958059758, 16, 16, 16, 16], degree=3))
            add(Edge.make_bspline(
                [(2.231580605, -16.630707724), (2.18422693, -16.629408375), (2.09136861, -16.626860413), (1.955354868, -16.605475308), (1.826625065, -16.569681193), (1.7040642, -16.520825915), (1.589394651, -16.455035241), (1.481514052, -16.373630088), (1.381702446, -16.274636931), (1.322959063, -16.199329814), (1.292818585, -16.160690697)],
                knots=[0, 0, 0, 0, 1.038908319, 2.037250181, 3.012632028, 3.966567879, 4.9252131, 5.905168122, 6.925168603, 8, 8, 8, 8], degree=3))
            Line((1.292818585, -16.160690697), (1.292818585, -16.590002596))
            Line((1.292818585, -16.590002596), (1.007882688, -16.590002596))
        make_face()
        with BuildLine():
            add(Edge.make_bspline(
                [(2.227764499, -16.345771826), (2.269414491, -16.344288631), (2.351624951, -16.34136104), (2.472327468, -16.318543194), (2.587771574, -16.28047983), (2.697769535, -16.228723763), (2.799284509, -16.162425838), (2.891515583, -16.084255444), (2.971962531, -15.993254844), (3.039982689, -15.891514792), (3.096452027, -15.783098406), (3.135420255, -15.668939236), (3.161303129, -15.552122774), (3.163933935, -15.472868592), (3.165254483, -15.43308653)],
                knots=[0, 0, 0, 0, 1.031179624, 2.035384561, 3.030098214, 4.035455833, 5.037557836, 6.024646278, 7.02156144, 8.035264006, 9.049836703, 10.039645228, 11.015989397, 12, 12, 12, 12], degree=3))
            add(Edge.make_bspline(
                [(3.165254483, -15.43308653), (3.163540249, -15.393551932), (3.160118502, -15.3146377), (3.136215415, -15.197642221), (3.094258569, -15.08422785), (3.039024474, -14.974413926), (2.969933592, -14.871915003), (2.889645422, -14.779234125), (2.79694635, -14.699858737), (2.694537475, -14.633373426), (2.585275386, -14.579891334), (2.47033249, -14.542170246), (2.351712204, -14.518353481), (2.270912571, -14.515483367), (2.230308569, -14.514041057)],
                knots=[0, 0, 0, 0, 0.979235476, 1.954632679, 2.943119654, 3.967171814, 4.992637064, 5.997548408, 6.995574264, 8.005058949, 9.015076297, 9.999929117, 10.994910263, 12, 12, 12, 12], degree=3))
            add(Edge.make_bspline(
                [(2.230308569, -14.514041057), (2.189082755, -14.51554163), (2.107297234, -14.51851853), (1.986177363, -14.541493739), (1.868854415, -14.580029732), (1.756283853, -14.632504372), (1.651593001, -14.697560163), (1.558068615, -14.774059954), (1.477272541, -14.861666513), (1.41075029, -14.959856368), (1.357599909, -15.066314478), (1.319965408, -15.180022076), (1.297107538, -15.300303471), (1.294268004, -15.382739468), (1.292818585, -15.424818301)],
                knots=[0, 0, 0, 0, 1.017730373, 2.019016736, 3.032373701, 4.060729657, 5.079187105, 6.068726676, 7.03591854, 8.011858086, 8.988317194, 9.965225429, 10.961364673, 12, 12, 12, 12], degree=3))
            add(Edge.make_bspline(
                [(1.292818585, -15.424818301), (1.293689144, -15.456874749), (1.29540268, -15.519971983), (1.308493072, -15.612616408), (1.329317189, -15.701274213), (1.358657167, -15.786042436), (1.397212571, -15.8664383), (1.443664912, -15.943091998), (1.498966997, -16.015289511), (1.561435842, -16.082939407), (1.630584648, -16.14433424), (1.704115441, -16.198447131), (1.781843219, -16.244241527), (1.863713421, -16.280889022), (1.949095477, -16.310744817), (2.038807758, -16.330464053), (2.131946128, -16.344047564), (2.195488753, -16.345191021), (2.227764499, -16.345771826)],
                knots=[0, 0, 0, 0, 1.050062701, 2.066855696, 3.059271411, 4.030305351, 4.999747758, 5.975466543, 6.961907836, 7.974539719, 8.98812422, 9.98710676, 10.961662635, 11.93785114, 12.922015094, 13.919620009, 14.94329489, 16, 16, 16, 16], degree=3))
        make_face(mode=Mode.SUBTRACT)
    # profile 3 of 4: a face of its own
    with BuildSketch(Plane(origin=(0, 3.175, 0), x_dir=(-1, 0, 0), z_dir=(0, 1, 0))):
        Polygon((0.600831406, -16.590002596), (0.292362856, -16.590002596), (-0.477854492, -14.900739775), (-1.248071839, -16.590002596), (-1.556540389, -16.590002596), (-0.498207056, -14.269810288), (-0.457501928, -14.269810288), align=None)
    # profile 4 of 4: a face of its own
    with BuildSketch(Plane(origin=(0, 3.175, 0), x_dir=(-1, 0, 0), z_dir=(0, 1, 0))):
        Polygon((-1.943239107, -17.444810288), (-2.272060221, -17.444810288), (-3.103335261, -16.146062291), (-3.934610301, -17.444810288), (-4.263431415, -17.444810288), (-3.268063827, -15.889111169), (-4.304136543, -14.269810288), (-3.975315429, -14.269810288), (-3.103335261, -15.632160048), (-2.231355093, -14.269810288), (-1.902533979, -14.269810288), (-2.939242713, -15.889111169), align=None)
    extrude(amount=-CUT_EXTRUDE1_DEPTH, mode=Mode.SUBTRACT)


solid = part.part
